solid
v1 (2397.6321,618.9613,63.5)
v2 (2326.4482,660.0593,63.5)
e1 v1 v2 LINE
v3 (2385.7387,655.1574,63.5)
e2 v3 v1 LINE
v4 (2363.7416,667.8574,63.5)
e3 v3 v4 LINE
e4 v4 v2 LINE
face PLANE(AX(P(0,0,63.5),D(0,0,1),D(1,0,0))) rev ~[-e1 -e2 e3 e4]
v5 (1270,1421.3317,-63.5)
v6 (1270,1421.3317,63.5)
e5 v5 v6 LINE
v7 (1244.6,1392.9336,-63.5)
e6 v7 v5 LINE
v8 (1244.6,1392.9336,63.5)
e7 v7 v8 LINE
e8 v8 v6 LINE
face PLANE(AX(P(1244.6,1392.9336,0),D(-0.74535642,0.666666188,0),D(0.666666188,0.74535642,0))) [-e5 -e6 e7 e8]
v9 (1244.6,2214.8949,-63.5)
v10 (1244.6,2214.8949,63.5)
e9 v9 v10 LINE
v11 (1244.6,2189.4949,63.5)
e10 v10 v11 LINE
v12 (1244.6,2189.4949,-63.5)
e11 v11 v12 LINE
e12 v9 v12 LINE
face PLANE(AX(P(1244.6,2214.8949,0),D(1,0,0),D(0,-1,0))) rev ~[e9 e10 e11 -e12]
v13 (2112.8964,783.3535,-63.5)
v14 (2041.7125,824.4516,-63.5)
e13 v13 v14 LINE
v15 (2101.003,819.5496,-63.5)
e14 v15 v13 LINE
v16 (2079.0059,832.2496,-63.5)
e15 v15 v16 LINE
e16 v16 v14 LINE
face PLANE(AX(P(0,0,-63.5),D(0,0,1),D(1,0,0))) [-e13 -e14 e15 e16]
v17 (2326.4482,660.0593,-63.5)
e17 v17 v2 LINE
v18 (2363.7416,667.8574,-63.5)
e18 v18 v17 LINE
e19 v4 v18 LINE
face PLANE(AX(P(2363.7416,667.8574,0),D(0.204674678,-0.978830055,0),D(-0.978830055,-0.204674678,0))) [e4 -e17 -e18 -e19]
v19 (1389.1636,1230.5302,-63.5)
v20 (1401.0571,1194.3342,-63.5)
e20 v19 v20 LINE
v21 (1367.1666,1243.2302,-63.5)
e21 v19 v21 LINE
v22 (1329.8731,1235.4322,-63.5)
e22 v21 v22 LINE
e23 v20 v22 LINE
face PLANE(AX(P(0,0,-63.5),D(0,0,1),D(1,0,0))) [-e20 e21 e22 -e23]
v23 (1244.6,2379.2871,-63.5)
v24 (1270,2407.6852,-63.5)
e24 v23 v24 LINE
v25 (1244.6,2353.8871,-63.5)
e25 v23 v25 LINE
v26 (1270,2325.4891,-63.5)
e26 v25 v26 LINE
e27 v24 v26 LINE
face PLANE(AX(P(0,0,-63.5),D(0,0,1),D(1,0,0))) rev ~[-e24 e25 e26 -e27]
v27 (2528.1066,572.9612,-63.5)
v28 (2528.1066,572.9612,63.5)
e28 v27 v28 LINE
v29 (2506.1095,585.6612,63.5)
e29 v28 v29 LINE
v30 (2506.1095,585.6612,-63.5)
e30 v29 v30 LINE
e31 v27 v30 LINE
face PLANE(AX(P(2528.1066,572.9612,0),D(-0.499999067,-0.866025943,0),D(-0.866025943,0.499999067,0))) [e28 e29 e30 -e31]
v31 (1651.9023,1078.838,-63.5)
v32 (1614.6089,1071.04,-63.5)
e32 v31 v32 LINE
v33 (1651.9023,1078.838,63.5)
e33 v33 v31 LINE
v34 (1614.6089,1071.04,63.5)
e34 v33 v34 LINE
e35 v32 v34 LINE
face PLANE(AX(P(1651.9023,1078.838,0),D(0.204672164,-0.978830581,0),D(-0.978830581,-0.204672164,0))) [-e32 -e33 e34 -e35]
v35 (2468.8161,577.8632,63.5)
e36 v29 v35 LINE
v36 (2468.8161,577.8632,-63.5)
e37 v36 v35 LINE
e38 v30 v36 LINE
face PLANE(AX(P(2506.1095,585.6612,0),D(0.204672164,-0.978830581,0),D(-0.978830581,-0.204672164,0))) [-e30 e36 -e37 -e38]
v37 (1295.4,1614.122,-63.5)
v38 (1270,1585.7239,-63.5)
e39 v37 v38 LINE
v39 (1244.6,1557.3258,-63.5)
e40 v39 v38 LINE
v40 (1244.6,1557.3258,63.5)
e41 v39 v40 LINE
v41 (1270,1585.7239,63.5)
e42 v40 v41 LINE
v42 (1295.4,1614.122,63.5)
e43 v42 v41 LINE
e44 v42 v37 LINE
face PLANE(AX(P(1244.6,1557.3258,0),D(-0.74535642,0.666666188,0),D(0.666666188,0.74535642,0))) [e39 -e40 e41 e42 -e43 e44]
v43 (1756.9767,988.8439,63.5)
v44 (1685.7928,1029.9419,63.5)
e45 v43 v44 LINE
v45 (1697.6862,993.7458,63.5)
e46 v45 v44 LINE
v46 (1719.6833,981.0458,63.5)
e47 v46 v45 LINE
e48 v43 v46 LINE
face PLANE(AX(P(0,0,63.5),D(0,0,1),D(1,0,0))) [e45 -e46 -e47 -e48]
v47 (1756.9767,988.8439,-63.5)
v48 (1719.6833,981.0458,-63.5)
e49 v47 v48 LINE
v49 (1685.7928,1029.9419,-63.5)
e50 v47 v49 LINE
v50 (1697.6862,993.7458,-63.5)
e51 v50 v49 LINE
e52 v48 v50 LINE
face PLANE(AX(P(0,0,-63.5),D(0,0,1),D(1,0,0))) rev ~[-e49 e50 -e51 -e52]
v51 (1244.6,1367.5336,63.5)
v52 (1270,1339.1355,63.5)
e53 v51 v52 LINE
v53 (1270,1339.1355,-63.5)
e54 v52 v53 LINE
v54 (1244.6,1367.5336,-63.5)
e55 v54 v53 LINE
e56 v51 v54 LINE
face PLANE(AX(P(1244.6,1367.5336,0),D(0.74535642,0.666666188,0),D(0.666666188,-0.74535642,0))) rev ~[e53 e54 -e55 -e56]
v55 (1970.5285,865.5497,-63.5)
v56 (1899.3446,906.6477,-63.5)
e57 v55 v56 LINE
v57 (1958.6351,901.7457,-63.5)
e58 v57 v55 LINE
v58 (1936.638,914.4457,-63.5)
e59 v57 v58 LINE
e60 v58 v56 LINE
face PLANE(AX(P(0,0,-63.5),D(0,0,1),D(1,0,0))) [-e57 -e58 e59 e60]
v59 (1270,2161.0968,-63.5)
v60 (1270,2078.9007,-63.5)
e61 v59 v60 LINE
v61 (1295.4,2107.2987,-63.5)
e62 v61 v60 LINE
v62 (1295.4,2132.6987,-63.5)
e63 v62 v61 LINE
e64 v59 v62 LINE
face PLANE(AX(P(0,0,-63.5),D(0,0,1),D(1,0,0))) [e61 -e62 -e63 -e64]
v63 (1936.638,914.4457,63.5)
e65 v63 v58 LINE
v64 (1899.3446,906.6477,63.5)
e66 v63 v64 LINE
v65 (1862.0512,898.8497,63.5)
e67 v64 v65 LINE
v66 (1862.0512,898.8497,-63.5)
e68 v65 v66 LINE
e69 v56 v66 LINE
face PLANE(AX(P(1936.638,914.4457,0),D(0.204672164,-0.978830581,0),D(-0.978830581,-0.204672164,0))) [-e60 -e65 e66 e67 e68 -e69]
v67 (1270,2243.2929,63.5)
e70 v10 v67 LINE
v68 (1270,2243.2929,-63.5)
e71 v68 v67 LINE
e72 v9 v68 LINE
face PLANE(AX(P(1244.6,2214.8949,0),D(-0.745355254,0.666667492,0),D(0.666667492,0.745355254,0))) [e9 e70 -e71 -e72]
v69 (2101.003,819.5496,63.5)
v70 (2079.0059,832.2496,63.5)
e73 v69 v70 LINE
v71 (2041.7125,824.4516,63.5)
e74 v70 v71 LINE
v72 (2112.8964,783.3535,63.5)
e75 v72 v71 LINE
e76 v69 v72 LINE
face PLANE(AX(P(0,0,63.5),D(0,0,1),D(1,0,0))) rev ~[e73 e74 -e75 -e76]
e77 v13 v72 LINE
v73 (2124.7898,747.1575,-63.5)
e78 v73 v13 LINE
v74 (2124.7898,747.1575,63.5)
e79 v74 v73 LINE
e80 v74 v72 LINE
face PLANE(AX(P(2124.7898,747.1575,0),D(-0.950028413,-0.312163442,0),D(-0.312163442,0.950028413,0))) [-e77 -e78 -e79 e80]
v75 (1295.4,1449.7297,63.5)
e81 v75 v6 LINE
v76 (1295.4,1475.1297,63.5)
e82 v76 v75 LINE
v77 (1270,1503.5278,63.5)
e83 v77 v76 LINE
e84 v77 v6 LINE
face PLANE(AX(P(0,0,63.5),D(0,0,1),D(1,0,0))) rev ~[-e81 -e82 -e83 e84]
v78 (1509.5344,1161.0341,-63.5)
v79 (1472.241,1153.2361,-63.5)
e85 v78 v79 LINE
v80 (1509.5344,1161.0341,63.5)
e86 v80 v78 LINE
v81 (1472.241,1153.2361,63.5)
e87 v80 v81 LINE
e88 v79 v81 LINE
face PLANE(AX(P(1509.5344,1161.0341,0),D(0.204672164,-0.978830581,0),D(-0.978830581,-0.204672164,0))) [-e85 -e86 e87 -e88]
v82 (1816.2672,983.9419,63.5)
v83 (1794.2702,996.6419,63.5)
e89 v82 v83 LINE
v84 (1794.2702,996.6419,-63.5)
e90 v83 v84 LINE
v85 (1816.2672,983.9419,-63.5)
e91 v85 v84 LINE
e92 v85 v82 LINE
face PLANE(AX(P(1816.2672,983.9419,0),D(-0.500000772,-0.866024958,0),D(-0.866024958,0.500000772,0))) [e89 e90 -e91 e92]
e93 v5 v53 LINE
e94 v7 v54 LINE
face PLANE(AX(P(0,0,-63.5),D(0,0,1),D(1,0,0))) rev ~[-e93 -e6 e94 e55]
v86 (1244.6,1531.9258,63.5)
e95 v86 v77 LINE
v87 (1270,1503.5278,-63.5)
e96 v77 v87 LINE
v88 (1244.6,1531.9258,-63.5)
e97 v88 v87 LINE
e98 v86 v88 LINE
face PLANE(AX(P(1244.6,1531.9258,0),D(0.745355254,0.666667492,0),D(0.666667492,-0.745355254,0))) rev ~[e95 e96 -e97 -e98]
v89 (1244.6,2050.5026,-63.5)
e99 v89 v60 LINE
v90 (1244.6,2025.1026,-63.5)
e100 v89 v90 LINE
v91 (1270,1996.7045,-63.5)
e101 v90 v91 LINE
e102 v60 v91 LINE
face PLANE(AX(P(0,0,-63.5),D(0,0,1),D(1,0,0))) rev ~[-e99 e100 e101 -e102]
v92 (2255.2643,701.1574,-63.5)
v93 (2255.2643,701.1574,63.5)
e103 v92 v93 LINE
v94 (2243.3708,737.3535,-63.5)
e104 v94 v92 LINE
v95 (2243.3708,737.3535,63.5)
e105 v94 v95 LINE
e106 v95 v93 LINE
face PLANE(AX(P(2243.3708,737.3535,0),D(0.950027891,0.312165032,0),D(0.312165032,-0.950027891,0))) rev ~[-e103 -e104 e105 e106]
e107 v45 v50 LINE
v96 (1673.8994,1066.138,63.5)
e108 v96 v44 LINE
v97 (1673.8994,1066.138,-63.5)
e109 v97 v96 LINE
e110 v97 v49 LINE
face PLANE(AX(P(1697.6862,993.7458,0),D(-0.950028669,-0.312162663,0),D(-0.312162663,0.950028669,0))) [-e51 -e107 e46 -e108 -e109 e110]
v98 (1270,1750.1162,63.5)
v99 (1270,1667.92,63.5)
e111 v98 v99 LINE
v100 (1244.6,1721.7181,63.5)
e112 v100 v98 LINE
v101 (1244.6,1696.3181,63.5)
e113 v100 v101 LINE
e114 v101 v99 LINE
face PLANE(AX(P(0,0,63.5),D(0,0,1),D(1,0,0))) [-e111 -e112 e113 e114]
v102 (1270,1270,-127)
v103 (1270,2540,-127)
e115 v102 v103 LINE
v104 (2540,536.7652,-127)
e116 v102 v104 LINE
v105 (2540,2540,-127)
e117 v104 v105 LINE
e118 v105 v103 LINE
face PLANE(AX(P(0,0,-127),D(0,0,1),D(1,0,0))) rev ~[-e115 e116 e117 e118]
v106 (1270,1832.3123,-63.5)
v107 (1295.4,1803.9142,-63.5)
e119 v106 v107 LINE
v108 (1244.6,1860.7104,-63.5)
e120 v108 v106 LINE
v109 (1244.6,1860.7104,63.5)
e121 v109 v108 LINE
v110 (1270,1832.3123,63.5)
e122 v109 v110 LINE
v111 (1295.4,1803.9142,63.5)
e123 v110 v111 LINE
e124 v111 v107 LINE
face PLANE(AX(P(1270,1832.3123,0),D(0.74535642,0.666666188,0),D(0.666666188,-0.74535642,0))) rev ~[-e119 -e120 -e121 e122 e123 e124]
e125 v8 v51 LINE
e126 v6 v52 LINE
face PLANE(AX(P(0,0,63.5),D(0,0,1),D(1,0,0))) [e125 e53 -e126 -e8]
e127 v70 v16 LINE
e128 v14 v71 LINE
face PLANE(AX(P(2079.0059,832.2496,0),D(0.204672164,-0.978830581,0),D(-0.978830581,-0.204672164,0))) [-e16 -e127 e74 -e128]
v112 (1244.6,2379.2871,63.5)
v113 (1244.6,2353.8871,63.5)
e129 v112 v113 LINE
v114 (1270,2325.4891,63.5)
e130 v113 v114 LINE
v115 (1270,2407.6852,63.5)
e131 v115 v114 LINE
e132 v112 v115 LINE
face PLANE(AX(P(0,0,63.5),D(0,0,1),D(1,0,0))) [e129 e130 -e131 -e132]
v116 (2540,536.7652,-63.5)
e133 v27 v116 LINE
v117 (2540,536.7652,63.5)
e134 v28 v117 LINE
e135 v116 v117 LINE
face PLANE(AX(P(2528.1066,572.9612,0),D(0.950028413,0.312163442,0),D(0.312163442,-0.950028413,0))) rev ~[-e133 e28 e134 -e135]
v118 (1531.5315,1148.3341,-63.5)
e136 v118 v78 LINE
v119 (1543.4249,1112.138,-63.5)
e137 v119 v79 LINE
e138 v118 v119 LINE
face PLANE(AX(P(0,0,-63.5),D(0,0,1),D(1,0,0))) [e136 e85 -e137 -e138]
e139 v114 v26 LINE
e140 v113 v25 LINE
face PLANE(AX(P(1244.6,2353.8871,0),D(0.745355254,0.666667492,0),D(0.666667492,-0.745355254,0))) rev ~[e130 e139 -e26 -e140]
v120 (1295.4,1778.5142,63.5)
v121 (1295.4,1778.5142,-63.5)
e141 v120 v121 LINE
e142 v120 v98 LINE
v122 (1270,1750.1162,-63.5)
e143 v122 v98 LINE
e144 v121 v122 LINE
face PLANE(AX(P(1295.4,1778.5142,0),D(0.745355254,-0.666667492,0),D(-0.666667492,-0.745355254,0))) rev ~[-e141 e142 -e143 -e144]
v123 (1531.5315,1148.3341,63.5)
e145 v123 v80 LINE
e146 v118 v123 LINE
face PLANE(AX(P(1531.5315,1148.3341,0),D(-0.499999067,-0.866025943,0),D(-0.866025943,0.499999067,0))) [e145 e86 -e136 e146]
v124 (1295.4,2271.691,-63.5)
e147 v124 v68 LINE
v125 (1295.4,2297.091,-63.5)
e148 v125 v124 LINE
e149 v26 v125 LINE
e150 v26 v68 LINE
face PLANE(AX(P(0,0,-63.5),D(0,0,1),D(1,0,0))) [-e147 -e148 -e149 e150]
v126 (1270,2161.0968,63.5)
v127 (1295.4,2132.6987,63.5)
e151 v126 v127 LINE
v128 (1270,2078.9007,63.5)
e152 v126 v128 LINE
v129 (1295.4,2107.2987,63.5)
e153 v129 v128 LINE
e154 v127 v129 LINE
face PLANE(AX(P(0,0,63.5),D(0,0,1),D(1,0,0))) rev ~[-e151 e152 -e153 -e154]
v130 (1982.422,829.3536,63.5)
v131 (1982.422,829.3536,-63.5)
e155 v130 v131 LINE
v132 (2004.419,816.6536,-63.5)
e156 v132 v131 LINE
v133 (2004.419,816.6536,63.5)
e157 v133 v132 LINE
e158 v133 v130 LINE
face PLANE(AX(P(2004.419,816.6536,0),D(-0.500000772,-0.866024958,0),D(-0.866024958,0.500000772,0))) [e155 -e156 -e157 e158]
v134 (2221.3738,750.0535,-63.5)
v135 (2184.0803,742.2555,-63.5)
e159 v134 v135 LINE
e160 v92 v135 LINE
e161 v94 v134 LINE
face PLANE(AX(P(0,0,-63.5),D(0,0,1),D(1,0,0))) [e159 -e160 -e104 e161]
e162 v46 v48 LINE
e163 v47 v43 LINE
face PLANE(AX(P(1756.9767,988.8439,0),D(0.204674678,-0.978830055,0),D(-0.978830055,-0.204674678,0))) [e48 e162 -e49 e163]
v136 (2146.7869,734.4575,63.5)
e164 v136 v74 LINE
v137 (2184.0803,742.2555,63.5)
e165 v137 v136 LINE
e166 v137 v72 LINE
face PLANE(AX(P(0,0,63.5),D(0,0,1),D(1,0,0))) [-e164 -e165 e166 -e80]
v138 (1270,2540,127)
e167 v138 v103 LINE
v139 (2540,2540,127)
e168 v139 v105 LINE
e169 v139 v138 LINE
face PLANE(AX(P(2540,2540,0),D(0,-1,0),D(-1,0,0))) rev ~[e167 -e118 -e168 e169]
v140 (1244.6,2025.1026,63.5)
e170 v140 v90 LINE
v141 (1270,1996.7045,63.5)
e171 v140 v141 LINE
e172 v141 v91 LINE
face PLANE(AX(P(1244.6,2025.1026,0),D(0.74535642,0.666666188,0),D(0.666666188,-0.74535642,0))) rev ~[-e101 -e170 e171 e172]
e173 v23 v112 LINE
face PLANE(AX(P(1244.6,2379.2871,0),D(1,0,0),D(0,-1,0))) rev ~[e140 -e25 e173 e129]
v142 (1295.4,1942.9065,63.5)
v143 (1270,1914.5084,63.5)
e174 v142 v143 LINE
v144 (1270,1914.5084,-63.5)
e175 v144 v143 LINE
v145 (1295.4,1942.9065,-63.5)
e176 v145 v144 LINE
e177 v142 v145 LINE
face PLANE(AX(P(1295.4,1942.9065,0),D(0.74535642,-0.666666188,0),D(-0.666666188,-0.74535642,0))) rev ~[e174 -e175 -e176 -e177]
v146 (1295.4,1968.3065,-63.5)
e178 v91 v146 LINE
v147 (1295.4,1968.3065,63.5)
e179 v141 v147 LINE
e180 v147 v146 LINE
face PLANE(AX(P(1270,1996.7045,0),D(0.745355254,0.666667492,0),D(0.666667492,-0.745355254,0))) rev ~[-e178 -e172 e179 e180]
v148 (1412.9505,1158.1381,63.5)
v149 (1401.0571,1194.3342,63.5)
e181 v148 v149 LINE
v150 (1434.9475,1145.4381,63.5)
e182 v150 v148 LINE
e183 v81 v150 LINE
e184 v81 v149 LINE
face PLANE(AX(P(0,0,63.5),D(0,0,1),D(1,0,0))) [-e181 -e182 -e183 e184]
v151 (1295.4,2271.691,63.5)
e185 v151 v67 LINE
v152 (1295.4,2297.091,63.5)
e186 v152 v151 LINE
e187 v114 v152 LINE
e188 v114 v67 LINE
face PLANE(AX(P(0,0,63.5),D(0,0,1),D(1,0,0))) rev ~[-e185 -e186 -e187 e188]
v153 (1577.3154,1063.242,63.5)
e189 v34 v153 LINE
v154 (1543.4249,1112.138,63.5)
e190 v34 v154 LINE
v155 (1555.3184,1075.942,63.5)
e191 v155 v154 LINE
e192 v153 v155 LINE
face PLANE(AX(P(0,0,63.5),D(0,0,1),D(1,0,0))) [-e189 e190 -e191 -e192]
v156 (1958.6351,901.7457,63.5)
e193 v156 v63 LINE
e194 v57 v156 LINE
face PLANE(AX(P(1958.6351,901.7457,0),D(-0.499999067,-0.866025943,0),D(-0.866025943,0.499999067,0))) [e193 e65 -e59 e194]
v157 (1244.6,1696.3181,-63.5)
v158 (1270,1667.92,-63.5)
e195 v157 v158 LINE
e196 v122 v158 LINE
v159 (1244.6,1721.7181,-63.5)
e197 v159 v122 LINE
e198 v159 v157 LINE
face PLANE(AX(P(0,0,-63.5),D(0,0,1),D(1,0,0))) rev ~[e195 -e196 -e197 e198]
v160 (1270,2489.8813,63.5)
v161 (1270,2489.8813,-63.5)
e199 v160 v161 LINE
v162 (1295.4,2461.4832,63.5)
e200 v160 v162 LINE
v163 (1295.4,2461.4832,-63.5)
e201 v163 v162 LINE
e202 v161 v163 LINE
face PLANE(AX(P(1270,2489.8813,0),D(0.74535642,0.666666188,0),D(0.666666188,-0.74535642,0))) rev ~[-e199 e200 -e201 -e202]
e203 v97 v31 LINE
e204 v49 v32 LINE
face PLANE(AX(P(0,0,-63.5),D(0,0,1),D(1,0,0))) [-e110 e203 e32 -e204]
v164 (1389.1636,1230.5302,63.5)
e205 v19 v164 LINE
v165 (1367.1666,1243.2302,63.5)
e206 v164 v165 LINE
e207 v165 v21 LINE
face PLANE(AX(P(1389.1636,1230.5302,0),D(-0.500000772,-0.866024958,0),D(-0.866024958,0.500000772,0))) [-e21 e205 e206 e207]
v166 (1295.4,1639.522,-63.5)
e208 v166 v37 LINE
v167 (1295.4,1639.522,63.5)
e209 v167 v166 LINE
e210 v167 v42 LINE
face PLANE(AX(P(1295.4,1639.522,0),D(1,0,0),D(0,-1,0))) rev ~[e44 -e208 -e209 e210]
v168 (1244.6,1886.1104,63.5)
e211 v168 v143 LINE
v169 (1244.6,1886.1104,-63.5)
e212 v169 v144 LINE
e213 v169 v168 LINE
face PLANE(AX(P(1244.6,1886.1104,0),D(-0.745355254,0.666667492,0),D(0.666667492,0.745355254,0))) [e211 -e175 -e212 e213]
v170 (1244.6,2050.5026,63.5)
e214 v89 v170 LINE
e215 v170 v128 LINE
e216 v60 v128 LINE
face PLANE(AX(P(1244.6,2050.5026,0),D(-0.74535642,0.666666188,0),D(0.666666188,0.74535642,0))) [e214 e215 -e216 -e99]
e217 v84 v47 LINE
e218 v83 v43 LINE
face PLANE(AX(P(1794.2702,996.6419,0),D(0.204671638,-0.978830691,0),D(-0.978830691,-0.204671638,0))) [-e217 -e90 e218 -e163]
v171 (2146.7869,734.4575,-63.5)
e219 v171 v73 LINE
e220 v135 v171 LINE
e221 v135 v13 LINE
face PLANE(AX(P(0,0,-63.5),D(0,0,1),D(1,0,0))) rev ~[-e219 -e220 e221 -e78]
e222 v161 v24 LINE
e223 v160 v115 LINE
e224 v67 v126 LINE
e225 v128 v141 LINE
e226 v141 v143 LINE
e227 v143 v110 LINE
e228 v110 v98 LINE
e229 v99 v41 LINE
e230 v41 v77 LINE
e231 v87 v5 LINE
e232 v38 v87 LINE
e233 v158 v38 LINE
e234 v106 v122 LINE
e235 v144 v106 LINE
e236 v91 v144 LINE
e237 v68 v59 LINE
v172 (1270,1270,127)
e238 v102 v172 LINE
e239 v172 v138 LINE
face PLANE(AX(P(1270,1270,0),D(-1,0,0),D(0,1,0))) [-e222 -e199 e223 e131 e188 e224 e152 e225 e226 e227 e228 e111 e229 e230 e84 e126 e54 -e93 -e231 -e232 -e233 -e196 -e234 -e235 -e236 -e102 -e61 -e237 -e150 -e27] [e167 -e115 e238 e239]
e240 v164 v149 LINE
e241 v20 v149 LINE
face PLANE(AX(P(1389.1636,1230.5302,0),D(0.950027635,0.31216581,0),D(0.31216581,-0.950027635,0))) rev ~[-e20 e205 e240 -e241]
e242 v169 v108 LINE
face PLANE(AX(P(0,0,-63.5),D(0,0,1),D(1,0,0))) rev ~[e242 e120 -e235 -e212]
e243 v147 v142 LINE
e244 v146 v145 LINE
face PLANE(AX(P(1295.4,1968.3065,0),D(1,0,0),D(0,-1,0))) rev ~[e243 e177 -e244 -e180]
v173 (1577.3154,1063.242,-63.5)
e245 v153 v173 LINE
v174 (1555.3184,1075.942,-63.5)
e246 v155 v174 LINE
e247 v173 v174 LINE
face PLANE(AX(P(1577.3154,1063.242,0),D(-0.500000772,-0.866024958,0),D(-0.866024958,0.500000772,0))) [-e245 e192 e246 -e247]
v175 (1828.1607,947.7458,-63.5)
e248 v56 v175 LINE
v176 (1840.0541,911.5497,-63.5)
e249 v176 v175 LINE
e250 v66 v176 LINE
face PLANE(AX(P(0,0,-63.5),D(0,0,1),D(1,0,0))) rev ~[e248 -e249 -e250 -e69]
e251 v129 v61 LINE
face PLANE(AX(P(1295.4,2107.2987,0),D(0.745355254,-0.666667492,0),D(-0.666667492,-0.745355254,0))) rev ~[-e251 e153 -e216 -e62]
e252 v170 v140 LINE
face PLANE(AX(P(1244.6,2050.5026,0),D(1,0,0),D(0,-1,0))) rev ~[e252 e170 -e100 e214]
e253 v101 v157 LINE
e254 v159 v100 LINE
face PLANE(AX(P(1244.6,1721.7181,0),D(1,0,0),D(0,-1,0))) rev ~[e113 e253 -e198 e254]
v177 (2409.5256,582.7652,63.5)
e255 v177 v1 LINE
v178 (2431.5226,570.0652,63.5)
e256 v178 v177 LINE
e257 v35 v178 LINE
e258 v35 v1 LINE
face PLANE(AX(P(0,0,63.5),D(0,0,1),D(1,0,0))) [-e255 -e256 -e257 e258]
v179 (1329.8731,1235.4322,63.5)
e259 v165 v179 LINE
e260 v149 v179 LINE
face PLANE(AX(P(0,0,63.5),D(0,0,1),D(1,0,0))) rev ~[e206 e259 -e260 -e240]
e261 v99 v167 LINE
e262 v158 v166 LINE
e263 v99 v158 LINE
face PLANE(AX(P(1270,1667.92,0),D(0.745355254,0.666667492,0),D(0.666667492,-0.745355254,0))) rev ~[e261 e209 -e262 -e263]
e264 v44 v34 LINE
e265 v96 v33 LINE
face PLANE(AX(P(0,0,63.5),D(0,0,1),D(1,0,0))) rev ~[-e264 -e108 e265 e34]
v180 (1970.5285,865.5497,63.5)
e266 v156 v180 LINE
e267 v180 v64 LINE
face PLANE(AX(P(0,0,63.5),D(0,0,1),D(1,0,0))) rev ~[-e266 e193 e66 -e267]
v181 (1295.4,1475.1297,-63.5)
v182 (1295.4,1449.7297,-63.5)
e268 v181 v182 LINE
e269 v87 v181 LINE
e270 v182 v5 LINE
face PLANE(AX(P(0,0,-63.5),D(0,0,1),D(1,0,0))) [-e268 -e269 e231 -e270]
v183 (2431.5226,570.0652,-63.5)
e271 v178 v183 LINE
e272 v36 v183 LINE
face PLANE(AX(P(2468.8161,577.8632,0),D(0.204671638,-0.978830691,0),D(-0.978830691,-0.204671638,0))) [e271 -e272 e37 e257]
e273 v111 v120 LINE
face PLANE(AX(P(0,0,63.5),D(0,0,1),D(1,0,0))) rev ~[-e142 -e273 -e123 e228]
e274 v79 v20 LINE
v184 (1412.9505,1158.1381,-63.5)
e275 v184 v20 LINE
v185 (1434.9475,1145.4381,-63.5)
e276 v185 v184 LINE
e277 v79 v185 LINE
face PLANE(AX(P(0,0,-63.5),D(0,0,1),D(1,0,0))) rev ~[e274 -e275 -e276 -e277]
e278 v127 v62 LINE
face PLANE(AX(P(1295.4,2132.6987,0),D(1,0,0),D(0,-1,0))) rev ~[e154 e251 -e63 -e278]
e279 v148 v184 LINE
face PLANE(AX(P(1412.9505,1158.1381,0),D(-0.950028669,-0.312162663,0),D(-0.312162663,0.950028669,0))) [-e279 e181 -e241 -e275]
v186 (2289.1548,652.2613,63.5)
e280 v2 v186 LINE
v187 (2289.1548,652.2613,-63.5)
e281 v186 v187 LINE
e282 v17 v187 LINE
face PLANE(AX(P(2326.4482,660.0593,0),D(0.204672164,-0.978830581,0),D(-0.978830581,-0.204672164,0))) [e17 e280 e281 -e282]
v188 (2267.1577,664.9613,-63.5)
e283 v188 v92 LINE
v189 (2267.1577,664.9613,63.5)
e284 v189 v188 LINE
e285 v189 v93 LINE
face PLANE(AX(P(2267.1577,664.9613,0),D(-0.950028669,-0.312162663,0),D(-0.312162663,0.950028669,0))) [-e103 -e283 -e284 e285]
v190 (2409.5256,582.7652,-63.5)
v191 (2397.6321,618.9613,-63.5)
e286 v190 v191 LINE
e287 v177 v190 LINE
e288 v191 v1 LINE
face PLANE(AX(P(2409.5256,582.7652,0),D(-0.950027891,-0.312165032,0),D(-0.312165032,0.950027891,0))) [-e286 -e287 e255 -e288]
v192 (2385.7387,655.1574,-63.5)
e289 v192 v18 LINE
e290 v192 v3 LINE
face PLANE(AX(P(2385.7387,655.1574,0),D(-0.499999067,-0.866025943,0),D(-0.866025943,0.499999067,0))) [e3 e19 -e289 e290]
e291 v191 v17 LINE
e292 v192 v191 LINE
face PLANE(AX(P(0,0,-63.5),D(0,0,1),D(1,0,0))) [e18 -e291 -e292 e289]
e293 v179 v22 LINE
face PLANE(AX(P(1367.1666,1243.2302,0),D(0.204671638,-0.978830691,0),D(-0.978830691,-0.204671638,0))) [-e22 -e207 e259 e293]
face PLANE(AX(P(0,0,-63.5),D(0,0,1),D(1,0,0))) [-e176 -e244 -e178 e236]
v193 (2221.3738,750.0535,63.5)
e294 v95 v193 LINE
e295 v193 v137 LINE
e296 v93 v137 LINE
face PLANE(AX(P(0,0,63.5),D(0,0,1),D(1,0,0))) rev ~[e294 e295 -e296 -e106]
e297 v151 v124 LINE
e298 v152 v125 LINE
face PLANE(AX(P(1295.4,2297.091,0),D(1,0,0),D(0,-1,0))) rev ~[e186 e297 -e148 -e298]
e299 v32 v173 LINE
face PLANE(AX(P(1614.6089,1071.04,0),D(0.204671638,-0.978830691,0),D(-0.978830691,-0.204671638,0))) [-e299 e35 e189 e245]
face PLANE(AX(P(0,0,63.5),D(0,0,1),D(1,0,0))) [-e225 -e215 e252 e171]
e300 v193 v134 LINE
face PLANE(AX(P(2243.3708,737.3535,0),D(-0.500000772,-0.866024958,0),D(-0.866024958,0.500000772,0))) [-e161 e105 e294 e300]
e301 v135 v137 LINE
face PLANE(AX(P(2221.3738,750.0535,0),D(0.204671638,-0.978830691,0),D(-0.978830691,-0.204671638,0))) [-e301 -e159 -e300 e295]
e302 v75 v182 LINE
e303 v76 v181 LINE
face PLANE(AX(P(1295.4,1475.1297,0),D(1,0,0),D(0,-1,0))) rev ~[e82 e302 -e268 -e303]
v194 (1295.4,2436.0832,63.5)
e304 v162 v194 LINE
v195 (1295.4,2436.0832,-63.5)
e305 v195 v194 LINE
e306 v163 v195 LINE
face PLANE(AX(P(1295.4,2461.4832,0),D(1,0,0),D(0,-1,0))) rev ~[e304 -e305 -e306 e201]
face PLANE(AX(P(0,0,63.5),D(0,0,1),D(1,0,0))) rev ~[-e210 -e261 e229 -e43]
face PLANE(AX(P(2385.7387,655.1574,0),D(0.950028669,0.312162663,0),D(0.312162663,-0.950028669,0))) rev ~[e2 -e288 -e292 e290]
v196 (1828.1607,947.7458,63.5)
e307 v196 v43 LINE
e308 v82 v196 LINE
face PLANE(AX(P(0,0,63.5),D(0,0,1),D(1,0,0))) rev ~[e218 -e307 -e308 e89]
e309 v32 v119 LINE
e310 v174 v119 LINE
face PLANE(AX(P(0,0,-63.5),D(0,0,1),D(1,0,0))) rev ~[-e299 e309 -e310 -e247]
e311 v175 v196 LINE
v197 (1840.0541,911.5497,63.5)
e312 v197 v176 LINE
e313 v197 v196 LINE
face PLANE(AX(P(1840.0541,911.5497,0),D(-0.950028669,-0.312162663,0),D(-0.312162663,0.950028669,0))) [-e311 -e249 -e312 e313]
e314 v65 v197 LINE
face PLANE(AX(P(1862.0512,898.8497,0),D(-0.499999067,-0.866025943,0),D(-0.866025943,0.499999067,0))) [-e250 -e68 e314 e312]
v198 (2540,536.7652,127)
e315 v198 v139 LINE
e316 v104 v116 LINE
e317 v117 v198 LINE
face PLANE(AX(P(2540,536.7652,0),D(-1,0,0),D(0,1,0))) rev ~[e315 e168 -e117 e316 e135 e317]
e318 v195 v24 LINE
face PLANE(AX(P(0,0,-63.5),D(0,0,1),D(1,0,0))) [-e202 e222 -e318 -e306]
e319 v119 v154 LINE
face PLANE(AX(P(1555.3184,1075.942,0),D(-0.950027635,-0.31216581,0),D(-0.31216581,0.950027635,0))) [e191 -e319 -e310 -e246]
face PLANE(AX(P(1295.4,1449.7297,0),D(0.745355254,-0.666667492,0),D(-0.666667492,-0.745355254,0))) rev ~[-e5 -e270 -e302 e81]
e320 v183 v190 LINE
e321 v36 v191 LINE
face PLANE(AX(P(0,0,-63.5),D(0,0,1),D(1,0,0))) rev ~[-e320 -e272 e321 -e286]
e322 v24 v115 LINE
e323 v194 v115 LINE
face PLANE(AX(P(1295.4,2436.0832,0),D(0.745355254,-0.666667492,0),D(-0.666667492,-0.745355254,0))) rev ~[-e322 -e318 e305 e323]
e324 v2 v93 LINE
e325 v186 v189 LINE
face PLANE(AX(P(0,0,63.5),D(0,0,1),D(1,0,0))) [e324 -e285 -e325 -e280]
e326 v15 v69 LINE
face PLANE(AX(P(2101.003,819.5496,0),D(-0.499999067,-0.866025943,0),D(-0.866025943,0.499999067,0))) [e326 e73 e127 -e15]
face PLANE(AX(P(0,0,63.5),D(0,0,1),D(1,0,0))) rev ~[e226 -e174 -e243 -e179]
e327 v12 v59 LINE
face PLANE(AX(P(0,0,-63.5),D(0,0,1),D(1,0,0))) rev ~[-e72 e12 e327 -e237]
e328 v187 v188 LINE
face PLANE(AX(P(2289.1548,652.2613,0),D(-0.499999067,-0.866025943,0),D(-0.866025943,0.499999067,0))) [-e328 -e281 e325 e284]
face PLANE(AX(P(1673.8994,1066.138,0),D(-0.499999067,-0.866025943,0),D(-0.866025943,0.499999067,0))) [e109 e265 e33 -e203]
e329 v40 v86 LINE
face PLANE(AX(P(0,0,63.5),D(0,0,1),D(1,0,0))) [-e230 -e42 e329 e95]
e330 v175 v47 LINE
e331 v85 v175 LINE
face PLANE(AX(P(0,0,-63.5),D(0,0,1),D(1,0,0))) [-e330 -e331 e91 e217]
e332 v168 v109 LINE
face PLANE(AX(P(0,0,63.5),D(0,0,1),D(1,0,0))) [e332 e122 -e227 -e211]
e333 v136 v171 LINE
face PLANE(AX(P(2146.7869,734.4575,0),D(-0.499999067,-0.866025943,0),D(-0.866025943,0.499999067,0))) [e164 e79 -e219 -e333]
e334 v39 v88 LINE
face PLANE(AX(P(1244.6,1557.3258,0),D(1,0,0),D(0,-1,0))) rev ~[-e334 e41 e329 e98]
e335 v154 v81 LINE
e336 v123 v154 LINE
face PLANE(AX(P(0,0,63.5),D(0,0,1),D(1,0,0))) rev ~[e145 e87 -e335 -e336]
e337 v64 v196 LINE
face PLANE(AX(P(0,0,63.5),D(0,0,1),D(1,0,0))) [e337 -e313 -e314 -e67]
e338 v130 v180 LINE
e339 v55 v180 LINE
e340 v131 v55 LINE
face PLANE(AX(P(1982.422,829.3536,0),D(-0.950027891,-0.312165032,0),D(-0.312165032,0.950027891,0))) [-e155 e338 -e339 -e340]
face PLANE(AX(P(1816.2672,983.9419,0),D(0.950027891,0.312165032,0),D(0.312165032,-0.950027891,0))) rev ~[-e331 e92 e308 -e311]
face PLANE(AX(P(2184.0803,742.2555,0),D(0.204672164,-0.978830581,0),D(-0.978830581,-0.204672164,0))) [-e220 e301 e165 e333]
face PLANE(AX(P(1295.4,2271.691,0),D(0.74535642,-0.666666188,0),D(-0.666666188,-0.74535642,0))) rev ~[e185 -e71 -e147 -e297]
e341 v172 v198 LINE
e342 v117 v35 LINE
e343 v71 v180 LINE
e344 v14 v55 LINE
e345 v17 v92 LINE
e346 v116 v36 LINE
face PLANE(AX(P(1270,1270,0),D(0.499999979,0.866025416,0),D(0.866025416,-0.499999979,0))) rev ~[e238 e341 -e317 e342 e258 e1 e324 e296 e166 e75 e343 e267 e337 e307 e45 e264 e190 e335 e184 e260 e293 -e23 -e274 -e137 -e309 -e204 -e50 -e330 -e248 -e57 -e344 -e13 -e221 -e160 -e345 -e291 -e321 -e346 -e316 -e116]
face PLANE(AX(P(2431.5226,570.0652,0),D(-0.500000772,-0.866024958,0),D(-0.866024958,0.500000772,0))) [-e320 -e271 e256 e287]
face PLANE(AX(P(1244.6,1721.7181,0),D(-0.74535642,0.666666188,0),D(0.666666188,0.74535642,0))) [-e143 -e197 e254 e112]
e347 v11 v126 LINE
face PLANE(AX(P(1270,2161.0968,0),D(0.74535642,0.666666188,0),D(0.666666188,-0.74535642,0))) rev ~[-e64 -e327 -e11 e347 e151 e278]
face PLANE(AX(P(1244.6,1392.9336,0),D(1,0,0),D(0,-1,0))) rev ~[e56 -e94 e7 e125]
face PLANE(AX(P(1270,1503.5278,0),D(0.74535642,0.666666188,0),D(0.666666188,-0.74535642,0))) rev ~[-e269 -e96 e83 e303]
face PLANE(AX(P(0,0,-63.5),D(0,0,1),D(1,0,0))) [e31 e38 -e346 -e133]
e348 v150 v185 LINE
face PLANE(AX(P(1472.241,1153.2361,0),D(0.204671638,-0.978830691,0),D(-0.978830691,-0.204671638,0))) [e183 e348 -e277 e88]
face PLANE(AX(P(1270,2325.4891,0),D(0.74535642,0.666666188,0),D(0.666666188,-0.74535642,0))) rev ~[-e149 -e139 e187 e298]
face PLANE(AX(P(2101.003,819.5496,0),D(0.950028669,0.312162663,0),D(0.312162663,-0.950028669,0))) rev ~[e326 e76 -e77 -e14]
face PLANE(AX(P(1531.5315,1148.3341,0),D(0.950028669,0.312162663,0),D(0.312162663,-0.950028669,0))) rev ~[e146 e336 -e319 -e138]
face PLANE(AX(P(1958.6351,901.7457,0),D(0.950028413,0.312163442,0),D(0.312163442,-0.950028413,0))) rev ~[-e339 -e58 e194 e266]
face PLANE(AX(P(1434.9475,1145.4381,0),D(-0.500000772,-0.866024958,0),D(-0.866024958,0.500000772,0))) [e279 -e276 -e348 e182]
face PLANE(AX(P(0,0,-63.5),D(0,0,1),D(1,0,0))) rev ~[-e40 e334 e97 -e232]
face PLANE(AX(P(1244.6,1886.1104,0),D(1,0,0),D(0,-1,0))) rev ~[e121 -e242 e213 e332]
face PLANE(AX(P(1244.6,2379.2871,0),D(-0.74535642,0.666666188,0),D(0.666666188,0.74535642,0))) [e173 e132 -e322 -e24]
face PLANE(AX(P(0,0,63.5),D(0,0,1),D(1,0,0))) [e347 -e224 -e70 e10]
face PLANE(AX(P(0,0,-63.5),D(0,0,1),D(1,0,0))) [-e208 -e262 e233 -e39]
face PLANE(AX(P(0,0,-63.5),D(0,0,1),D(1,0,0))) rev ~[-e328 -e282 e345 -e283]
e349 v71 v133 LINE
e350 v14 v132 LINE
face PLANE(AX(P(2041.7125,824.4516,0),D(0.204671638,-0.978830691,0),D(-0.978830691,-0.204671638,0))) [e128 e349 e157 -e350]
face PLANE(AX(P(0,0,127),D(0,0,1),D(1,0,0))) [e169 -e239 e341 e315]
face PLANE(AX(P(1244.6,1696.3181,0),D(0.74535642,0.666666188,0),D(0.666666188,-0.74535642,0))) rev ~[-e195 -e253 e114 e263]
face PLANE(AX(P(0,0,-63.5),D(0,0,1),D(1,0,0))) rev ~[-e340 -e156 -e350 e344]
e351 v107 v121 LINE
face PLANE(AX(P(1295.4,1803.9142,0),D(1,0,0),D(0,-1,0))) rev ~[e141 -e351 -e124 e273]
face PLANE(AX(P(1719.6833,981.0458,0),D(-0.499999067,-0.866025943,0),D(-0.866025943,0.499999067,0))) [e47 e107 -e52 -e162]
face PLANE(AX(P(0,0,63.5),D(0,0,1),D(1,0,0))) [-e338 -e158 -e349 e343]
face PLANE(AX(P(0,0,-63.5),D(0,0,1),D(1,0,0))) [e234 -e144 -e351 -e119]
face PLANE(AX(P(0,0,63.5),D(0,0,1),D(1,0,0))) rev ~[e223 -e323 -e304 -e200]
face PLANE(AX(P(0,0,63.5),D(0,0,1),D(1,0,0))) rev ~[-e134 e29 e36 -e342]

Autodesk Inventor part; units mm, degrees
ref_plane "YZ Plane" through (0, 0, 0) normal (1, 0, 0) x (0, 1, 0)
ref_plane "XZ Plane" through (0, 0, 0) normal (0, 1, 0) x (-1, 0, 0)
ref_plane "XY Plane" through (0, 0, 0) normal (0, 0, 1) x (1, 0, 0)
sketch "Sketch1" plane through (0, 0, 0) normal (0, 0, 1) x (1, 0, 0)
  line L0 (1270, 1270) -> (1270, 2540)
  line L1 (1270, 1270) -> (2540, 536.7652)
  line L2 (2540, 536.7652) -> (2540, 2540)
  line L3 (2540, 2540) -> (1270, 2540)
  dimension "d448" = 2003.2348
extrude "door" add sketch "Sketch1" along normal mid plane 254
sketch "Sketch3" plane through (0, 0, 0) normal (0, 0, 1) x (1, 0, 0)
  line L0 (1295.4, 2436.0832) -> (1270, 2407.6852)
  line L1 (1295.4, 2461.4832) -> (1295.4, 2436.0832)
  line L2 (1270, 2448.7832) -> (1295.4, 2448.7832) construction
  line L3 (1270, 2489.8813) -> (1270, 2407.6852)
  line L4 (1270, 2489.8813) -> (1295.4, 2461.4832)
  line L5 (1295.4, 2271.691) -> (1270, 2243.2929)
  line L6 (1295.4, 2297.091) -> (1295.4, 2271.691)
  line L7 (1270, 2284.391) -> (1295.4, 2284.391) construction
  line L8 (1270, 2325.4891) -> (1270, 2243.2929)
  line L9 (1270, 2325.4891) -> (1295.4, 2297.091)
  line L10 (1244.6, 2353.8871) -> (1270, 2325.4891)
  line L11 (1270, 2366.5871) -> (1244.6, 2366.5871) construction
  line L12 (1244.6, 2379.2871) -> (1244.6, 2353.8871)
  line L13 (1244.6, 2379.2871) -> (1270, 2407.6852)
  line L14 (1270, 2407.6852) -> (1270, 2325.4891)
  line L15 (1295.4, 2107.2987) -> (1270, 2078.9007)
  line L16 (1295.4, 2132.6987) -> (1295.4, 2107.2987)
  line L17 (1270, 2119.9987) -> (1295.4, 2119.9987) construction
  line L18 (1270, 2161.0968) -> (1270, 2078.9007)
  line L19 (1270, 2161.0968) -> (1295.4, 2132.6987)
  line L20 (1244.6, 2189.4949) -> (1270, 2161.0968)
  line L21 (1270, 2202.1949) -> (1244.6, 2202.1949) construction
  line L22 (1244.6, 2214.8949) -> (1244.6, 2189.4949)
  line L23 (1244.6, 2214.8949) -> (1270, 2243.2929)
  line L24 (1270, 2243.2929) -> (1270, 2161.0968)
  line L25 (1295.4, 1942.9065) -> (1270, 1914.5084)
  line L26 (1295.4, 1968.3065) -> (1295.4, 1942.9065)
  line L27 (1270, 1955.6065) -> (1295.4, 1955.6065) construction
  line L28 (1270, 1996.7045) -> (1270, 1914.5084)
  line L29 (1270, 1996.7045) -> (1295.4, 1968.3065)
  line L30 (1244.6, 2025.1026) -> (1270, 1996.7045)
  line L31 (1270, 2037.8026) -> (1244.6, 2037.8026) construction
  line L32 (1244.6, 2050.5026) -> (1244.6, 2025.1026)
  line L33 (1244.6, 2050.5026) -> (1270, 2078.9007)
  line L34 (1270, 2078.9007) -> (1270, 1996.7045)
  line L35 (1295.4, 1778.5142) -> (1270, 1750.1162)
  line L36 (1295.4, 1803.9142) -> (1295.4, 1778.5142)
  line L37 (1270, 1791.2142) -> (1295.4, 1791.2142) construction
  line L38 (1270, 1832.3123) -> (1270, 1750.1162)
  line L39 (1270, 1832.3123) -> (1295.4, 1803.9142)
  line L40 (1244.6, 1860.7104) -> (1270, 1832.3123)
  line L41 (1270, 1873.4104) -> (1244.6, 1873.4104) construction
  line L42 (1244.6, 1886.1104) -> (1244.6, 1860.7104)
  line L43 (1244.6, 1886.1104) -> (1270, 1914.5084)
  line L44 (1270, 1914.5084) -> (1270, 1832.3123)
  line L45 (1295.4, 1614.122) -> (1270, 1585.7239)
  line L46 (1295.4, 1639.522) -> (1295.4, 1614.122)
  line L47 (1270, 1626.822) -> (1295.4, 1626.822) construction
  line L48 (1270, 1667.92) -> (1270, 1585.7239)
  line L49 (1270, 1667.92) -> (1295.4, 1639.522)
  line L50 (1244.6, 1696.3181) -> (1270, 1667.92)
  line L51 (1270, 1709.0181) -> (1244.6, 1709.0181) construction
  line L52 (1244.6, 1721.7181) -> (1244.6, 1696.3181)
  line L53 (1244.6, 1721.7181) -> (1270, 1750.1162)
  line L54 (1270, 1750.1162) -> (1270, 1667.92)
  line L55 (1295.4, 1449.7297) -> (1270, 1421.3317)
  line L56 (1295.4, 1475.1297) -> (1295.4, 1449.7297)
  line L57 (1270, 1462.4297) -> (1295.4, 1462.4297) construction
  line L58 (1270, 1503.5278) -> (1270, 1421.3317)
  line L59 (1270, 1503.5278) -> (1295.4, 1475.1297)
  line L60 (1244.6, 1531.9258) -> (1270, 1503.5278)
  line L61 (1270, 1544.6258) -> (1244.6, 1544.6258) construction
  line L62 (1244.6, 1557.3258) -> (1244.6, 1531.9258)
  line L63 (1244.6, 1557.3258) -> (1270, 1585.7239)
  line L64 (1270, 1585.7239) -> (1270, 1503.5278)
  line L65 (1244.6, 1392.9336) -> (1270, 1421.3317)
  line L66 (1270, 1380.2336) -> (1244.6, 1380.2336) construction
  line L67 (1244.6, 1392.9336) -> (1244.6, 1367.5336)
  line L68 (1270, 1421.3317) -> (1270, 1339.1355)
  line L69 (1244.6, 1367.5336) -> (1270, 1339.1355)
  line L70 (2540, 536.7652) -> (1270, 1270) projected
  line L71 (1531.5315, 1148.3341) -> (1543.4249, 1112.138)
  line L72 (1507.833, 1132.6871) -> (1520.533, 1154.6841) construction
  line L73 (1531.5315, 1148.3341) -> (1509.5344, 1161.0341)
  line L74 (1543.4249, 1112.138) -> (1472.241, 1153.2361)
  line L75 (1509.5344, 1161.0341) -> (1472.241, 1153.2361)
  line L76 (1472.241, 1153.2361) -> (1434.9475, 1145.4381)
  line L77 (1436.649, 1173.7851) -> (1423.949, 1151.7881) construction
  line L78 (1434.9475, 1145.4381) -> (1412.9505, 1158.1381)
  line L79 (1389.1636, 1230.5302) -> (1401.0571, 1194.3342)
  line L80 (1389.1636, 1230.5302) -> (1367.1666, 1243.2302)
  line L81 (1401.0571, 1194.3342) -> (1329.8731, 1235.4322)
  line L82 (1365.4651, 1214.8832) -> (1378.1651, 1236.8802) construction
  line L83 (1412.9505, 1158.1381) -> (1401.0571, 1194.3342)
  line L84 (1472.241, 1153.2361) -> (1401.0571, 1194.3342)
  line L85 (1367.1666, 1243.2302) -> (1329.8731, 1235.4322)
  line L86 (2267.1577, 664.9613) -> (2255.2643, 701.1574)
  line L87 (2289.1548, 652.2613) -> (2267.1577, 664.9613)
  line L88 (2290.8562, 680.6084) -> (2278.1562, 658.6113) construction
  line L89 (2326.4482, 660.0593) -> (2255.2643, 701.1574)
  line L90 (2326.4482, 660.0593) -> (2289.1548, 652.2613)
  line L91 (2243.3708, 737.3535) -> (2255.2643, 701.1574)
  line L92 (2219.6723, 721.7064) -> (2232.3723, 743.7035) construction
  line L93 (2243.3708, 737.3535) -> (2221.3738, 750.0535)
  line L94 (2255.2643, 701.1574) -> (2184.0803, 742.2555)
  line L95 (2221.3738, 750.0535) -> (2184.0803, 742.2555)
  line L96 (2184.0803, 742.2555) -> (2146.7869, 734.4575)
  line L97 (2148.4884, 762.8045) -> (2135.7884, 740.8075) construction
  line L98 (2146.7869, 734.4575) -> (2124.7898, 747.1575)
  line L99 (2124.7898, 747.1575) -> (2112.8964, 783.3535)
  line L100 (2184.0803, 742.2555) -> (2112.8964, 783.3535)
  line L101 (2101.003, 819.5496) -> (2112.8964, 783.3535)
  line L102 (2077.3044, 803.9026) -> (2090.0044, 825.8996) construction
  line L103 (2101.003, 819.5496) -> (2079.0059, 832.2496)
  line L104 (2112.8964, 783.3535) -> (2041.7125, 824.4516)
  line L105 (2041.7125, 824.4516) -> (2004.419, 816.6536)
  line L106 (2006.1205, 845.0006) -> (1993.4205, 823.0036) construction
  line L107 (2004.419, 816.6536) -> (1982.422, 829.3536)
  line L108 (1982.422, 829.3536) -> (1970.5285, 865.5497)
  line L109 (2041.7125, 824.4516) -> (1970.5285, 865.5497)
  line L110 (2079.0059, 832.2496) -> (2041.7125, 824.4516)
  line L111 (1958.6351, 901.7457) -> (1970.5285, 865.5497)
  line L112 (1934.9366, 886.0987) -> (1947.6366, 908.0957) construction
  line L113 (1958.6351, 901.7457) -> (1936.638, 914.4457)
  line L114 (1970.5285, 865.5497) -> (1899.3446, 906.6477)
  line L115 (1899.3446, 906.6477) -> (1862.0512, 898.8497)
  line L116 (1863.7526, 927.1968) -> (1851.0526, 905.1997) construction
  line L117 (1862.0512, 898.8497) -> (1840.0541, 911.5497)
  line L118 (1840.0541, 911.5497) -> (1828.1607, 947.7458)
  line L119 (1899.3446, 906.6477) -> (1828.1607, 947.7458)
  line L120 (1936.638, 914.4457) -> (1899.3446, 906.6477)
  line L121 (1816.2672, 983.9419) -> (1828.1607, 947.7458)
  line L122 (1792.5687, 968.2948) -> (1805.2687, 990.2919) construction
  line L123 (1816.2672, 983.9419) -> (1794.2702, 996.6419)
  line L124 (1828.1607, 947.7458) -> (1756.9767, 988.8439)
  line L125 (1794.2702, 996.6419) -> (1756.9767, 988.8439)
  line L126 (1756.9767, 988.8439) -> (1719.6833, 981.0458)
  line L127 (1721.3848, 1009.3929) -> (1708.6848, 987.3958) construction
  line L128 (1719.6833, 981.0458) -> (1697.6862, 993.7458)
  line L129 (1697.6862, 993.7458) -> (1685.7928, 1029.9419)
  line L130 (1756.9767, 988.8439) -> (1685.7928, 1029.9419)
  line L131 (1673.8994, 1066.138) -> (1685.7928, 1029.9419)
  line L132 (1650.2008, 1050.4909) -> (1662.9008, 1072.488) construction
  line L133 (1673.8994, 1066.138) -> (1651.9023, 1078.838)
  line L134 (1685.7928, 1029.9419) -> (1614.6089, 1071.04)
  line L135 (1651.9023, 1078.838) -> (1614.6089, 1071.04)
  line L136 (1579.0169, 1091.589) -> (1566.3169, 1069.592) construction
  line L137 (1577.3154, 1063.242) -> (1555.3184, 1075.942)
  line L138 (1555.3184, 1075.942) -> (1543.4249, 1112.138)
  line L139 (1614.6089, 1071.04) -> (1543.4249, 1112.138)
  line L140 (1614.6089, 1071.04) -> (1577.3154, 1063.242)
  line L141 (2409.5256, 582.7652) -> (2397.6321, 618.9613)
  line L142 (2431.5226, 570.0652) -> (2409.5256, 582.7652)
  line L143 (2433.2241, 598.4123) -> (2420.5241, 576.4152) construction
  line L144 (2468.8161, 577.8632) -> (2397.6321, 618.9613)
  line L145 (2468.8161, 577.8632) -> (2431.5226, 570.0652)
  line L146 (2385.7387, 655.1574) -> (2397.6321, 618.9613)
  line L147 (2362.0402, 639.5103) -> (2374.7402, 661.5074) construction
  line L148 (2363.7416, 667.8574) -> (2326.4482, 660.0593)
  line L149 (2385.7387, 655.1574) -> (2363.7416, 667.8574)
  line L150 (2397.6321, 618.9613) -> (2326.4482, 660.0593)
  line L151 (2528.1066, 572.9612) -> (2540, 536.7652)
  line L152 (2504.408, 557.3142) -> (2517.108, 579.3112) construction
  line L153 (2506.1095, 585.6612) -> (2468.8161, 577.8632)
  line L154 (2528.1066, 572.9612) -> (2506.1095, 585.6612)
  line L155 (2540, 536.7652) -> (2468.8161, 577.8632)
extrude "connection give" add sketch "Sketch3" along normal mid plane 127 contours L68 L69 L67 L65 | L64 L60 L62 L63 | L54 L50 L52 L53 | L44 L40 L42 L43 | L34 L30 L32 L33 | L24 L20 L22 L23 | L14 L10 L12 L13 | L76 L78 L83 L70 | L140 L137 L138 L70 | L126 L128 L129 L70 | L115 L117 L118 L70 | L105 L107 L108 L70 | L96 L98 L99 L70 | L90 L87 L86 L70 | L145 L142 L141 L70
extrude "connection receive" cut sketch "Sketch3" along normal mid plane 127 contours L59 L56 L55 L58 | L49 L46 L45 L48 | L39 L36 L35 L38 | L29 L26 L25 L28 | L19 L16 L15 L18 | L9 L6 L5 L8 | L0 L3 L4 L1 | L70 L85 L80 L79 | L70 L75 L73 L71 | L70 L135 L133 L131 | L70 L125 L123 L121 | L70 L120 L113 L111 | L70 L110 L103 L101 | L70 L95 L93 L91 | L70 L148 L149 L146 | L70 L153 L154 L151
properties part number "top right door"
